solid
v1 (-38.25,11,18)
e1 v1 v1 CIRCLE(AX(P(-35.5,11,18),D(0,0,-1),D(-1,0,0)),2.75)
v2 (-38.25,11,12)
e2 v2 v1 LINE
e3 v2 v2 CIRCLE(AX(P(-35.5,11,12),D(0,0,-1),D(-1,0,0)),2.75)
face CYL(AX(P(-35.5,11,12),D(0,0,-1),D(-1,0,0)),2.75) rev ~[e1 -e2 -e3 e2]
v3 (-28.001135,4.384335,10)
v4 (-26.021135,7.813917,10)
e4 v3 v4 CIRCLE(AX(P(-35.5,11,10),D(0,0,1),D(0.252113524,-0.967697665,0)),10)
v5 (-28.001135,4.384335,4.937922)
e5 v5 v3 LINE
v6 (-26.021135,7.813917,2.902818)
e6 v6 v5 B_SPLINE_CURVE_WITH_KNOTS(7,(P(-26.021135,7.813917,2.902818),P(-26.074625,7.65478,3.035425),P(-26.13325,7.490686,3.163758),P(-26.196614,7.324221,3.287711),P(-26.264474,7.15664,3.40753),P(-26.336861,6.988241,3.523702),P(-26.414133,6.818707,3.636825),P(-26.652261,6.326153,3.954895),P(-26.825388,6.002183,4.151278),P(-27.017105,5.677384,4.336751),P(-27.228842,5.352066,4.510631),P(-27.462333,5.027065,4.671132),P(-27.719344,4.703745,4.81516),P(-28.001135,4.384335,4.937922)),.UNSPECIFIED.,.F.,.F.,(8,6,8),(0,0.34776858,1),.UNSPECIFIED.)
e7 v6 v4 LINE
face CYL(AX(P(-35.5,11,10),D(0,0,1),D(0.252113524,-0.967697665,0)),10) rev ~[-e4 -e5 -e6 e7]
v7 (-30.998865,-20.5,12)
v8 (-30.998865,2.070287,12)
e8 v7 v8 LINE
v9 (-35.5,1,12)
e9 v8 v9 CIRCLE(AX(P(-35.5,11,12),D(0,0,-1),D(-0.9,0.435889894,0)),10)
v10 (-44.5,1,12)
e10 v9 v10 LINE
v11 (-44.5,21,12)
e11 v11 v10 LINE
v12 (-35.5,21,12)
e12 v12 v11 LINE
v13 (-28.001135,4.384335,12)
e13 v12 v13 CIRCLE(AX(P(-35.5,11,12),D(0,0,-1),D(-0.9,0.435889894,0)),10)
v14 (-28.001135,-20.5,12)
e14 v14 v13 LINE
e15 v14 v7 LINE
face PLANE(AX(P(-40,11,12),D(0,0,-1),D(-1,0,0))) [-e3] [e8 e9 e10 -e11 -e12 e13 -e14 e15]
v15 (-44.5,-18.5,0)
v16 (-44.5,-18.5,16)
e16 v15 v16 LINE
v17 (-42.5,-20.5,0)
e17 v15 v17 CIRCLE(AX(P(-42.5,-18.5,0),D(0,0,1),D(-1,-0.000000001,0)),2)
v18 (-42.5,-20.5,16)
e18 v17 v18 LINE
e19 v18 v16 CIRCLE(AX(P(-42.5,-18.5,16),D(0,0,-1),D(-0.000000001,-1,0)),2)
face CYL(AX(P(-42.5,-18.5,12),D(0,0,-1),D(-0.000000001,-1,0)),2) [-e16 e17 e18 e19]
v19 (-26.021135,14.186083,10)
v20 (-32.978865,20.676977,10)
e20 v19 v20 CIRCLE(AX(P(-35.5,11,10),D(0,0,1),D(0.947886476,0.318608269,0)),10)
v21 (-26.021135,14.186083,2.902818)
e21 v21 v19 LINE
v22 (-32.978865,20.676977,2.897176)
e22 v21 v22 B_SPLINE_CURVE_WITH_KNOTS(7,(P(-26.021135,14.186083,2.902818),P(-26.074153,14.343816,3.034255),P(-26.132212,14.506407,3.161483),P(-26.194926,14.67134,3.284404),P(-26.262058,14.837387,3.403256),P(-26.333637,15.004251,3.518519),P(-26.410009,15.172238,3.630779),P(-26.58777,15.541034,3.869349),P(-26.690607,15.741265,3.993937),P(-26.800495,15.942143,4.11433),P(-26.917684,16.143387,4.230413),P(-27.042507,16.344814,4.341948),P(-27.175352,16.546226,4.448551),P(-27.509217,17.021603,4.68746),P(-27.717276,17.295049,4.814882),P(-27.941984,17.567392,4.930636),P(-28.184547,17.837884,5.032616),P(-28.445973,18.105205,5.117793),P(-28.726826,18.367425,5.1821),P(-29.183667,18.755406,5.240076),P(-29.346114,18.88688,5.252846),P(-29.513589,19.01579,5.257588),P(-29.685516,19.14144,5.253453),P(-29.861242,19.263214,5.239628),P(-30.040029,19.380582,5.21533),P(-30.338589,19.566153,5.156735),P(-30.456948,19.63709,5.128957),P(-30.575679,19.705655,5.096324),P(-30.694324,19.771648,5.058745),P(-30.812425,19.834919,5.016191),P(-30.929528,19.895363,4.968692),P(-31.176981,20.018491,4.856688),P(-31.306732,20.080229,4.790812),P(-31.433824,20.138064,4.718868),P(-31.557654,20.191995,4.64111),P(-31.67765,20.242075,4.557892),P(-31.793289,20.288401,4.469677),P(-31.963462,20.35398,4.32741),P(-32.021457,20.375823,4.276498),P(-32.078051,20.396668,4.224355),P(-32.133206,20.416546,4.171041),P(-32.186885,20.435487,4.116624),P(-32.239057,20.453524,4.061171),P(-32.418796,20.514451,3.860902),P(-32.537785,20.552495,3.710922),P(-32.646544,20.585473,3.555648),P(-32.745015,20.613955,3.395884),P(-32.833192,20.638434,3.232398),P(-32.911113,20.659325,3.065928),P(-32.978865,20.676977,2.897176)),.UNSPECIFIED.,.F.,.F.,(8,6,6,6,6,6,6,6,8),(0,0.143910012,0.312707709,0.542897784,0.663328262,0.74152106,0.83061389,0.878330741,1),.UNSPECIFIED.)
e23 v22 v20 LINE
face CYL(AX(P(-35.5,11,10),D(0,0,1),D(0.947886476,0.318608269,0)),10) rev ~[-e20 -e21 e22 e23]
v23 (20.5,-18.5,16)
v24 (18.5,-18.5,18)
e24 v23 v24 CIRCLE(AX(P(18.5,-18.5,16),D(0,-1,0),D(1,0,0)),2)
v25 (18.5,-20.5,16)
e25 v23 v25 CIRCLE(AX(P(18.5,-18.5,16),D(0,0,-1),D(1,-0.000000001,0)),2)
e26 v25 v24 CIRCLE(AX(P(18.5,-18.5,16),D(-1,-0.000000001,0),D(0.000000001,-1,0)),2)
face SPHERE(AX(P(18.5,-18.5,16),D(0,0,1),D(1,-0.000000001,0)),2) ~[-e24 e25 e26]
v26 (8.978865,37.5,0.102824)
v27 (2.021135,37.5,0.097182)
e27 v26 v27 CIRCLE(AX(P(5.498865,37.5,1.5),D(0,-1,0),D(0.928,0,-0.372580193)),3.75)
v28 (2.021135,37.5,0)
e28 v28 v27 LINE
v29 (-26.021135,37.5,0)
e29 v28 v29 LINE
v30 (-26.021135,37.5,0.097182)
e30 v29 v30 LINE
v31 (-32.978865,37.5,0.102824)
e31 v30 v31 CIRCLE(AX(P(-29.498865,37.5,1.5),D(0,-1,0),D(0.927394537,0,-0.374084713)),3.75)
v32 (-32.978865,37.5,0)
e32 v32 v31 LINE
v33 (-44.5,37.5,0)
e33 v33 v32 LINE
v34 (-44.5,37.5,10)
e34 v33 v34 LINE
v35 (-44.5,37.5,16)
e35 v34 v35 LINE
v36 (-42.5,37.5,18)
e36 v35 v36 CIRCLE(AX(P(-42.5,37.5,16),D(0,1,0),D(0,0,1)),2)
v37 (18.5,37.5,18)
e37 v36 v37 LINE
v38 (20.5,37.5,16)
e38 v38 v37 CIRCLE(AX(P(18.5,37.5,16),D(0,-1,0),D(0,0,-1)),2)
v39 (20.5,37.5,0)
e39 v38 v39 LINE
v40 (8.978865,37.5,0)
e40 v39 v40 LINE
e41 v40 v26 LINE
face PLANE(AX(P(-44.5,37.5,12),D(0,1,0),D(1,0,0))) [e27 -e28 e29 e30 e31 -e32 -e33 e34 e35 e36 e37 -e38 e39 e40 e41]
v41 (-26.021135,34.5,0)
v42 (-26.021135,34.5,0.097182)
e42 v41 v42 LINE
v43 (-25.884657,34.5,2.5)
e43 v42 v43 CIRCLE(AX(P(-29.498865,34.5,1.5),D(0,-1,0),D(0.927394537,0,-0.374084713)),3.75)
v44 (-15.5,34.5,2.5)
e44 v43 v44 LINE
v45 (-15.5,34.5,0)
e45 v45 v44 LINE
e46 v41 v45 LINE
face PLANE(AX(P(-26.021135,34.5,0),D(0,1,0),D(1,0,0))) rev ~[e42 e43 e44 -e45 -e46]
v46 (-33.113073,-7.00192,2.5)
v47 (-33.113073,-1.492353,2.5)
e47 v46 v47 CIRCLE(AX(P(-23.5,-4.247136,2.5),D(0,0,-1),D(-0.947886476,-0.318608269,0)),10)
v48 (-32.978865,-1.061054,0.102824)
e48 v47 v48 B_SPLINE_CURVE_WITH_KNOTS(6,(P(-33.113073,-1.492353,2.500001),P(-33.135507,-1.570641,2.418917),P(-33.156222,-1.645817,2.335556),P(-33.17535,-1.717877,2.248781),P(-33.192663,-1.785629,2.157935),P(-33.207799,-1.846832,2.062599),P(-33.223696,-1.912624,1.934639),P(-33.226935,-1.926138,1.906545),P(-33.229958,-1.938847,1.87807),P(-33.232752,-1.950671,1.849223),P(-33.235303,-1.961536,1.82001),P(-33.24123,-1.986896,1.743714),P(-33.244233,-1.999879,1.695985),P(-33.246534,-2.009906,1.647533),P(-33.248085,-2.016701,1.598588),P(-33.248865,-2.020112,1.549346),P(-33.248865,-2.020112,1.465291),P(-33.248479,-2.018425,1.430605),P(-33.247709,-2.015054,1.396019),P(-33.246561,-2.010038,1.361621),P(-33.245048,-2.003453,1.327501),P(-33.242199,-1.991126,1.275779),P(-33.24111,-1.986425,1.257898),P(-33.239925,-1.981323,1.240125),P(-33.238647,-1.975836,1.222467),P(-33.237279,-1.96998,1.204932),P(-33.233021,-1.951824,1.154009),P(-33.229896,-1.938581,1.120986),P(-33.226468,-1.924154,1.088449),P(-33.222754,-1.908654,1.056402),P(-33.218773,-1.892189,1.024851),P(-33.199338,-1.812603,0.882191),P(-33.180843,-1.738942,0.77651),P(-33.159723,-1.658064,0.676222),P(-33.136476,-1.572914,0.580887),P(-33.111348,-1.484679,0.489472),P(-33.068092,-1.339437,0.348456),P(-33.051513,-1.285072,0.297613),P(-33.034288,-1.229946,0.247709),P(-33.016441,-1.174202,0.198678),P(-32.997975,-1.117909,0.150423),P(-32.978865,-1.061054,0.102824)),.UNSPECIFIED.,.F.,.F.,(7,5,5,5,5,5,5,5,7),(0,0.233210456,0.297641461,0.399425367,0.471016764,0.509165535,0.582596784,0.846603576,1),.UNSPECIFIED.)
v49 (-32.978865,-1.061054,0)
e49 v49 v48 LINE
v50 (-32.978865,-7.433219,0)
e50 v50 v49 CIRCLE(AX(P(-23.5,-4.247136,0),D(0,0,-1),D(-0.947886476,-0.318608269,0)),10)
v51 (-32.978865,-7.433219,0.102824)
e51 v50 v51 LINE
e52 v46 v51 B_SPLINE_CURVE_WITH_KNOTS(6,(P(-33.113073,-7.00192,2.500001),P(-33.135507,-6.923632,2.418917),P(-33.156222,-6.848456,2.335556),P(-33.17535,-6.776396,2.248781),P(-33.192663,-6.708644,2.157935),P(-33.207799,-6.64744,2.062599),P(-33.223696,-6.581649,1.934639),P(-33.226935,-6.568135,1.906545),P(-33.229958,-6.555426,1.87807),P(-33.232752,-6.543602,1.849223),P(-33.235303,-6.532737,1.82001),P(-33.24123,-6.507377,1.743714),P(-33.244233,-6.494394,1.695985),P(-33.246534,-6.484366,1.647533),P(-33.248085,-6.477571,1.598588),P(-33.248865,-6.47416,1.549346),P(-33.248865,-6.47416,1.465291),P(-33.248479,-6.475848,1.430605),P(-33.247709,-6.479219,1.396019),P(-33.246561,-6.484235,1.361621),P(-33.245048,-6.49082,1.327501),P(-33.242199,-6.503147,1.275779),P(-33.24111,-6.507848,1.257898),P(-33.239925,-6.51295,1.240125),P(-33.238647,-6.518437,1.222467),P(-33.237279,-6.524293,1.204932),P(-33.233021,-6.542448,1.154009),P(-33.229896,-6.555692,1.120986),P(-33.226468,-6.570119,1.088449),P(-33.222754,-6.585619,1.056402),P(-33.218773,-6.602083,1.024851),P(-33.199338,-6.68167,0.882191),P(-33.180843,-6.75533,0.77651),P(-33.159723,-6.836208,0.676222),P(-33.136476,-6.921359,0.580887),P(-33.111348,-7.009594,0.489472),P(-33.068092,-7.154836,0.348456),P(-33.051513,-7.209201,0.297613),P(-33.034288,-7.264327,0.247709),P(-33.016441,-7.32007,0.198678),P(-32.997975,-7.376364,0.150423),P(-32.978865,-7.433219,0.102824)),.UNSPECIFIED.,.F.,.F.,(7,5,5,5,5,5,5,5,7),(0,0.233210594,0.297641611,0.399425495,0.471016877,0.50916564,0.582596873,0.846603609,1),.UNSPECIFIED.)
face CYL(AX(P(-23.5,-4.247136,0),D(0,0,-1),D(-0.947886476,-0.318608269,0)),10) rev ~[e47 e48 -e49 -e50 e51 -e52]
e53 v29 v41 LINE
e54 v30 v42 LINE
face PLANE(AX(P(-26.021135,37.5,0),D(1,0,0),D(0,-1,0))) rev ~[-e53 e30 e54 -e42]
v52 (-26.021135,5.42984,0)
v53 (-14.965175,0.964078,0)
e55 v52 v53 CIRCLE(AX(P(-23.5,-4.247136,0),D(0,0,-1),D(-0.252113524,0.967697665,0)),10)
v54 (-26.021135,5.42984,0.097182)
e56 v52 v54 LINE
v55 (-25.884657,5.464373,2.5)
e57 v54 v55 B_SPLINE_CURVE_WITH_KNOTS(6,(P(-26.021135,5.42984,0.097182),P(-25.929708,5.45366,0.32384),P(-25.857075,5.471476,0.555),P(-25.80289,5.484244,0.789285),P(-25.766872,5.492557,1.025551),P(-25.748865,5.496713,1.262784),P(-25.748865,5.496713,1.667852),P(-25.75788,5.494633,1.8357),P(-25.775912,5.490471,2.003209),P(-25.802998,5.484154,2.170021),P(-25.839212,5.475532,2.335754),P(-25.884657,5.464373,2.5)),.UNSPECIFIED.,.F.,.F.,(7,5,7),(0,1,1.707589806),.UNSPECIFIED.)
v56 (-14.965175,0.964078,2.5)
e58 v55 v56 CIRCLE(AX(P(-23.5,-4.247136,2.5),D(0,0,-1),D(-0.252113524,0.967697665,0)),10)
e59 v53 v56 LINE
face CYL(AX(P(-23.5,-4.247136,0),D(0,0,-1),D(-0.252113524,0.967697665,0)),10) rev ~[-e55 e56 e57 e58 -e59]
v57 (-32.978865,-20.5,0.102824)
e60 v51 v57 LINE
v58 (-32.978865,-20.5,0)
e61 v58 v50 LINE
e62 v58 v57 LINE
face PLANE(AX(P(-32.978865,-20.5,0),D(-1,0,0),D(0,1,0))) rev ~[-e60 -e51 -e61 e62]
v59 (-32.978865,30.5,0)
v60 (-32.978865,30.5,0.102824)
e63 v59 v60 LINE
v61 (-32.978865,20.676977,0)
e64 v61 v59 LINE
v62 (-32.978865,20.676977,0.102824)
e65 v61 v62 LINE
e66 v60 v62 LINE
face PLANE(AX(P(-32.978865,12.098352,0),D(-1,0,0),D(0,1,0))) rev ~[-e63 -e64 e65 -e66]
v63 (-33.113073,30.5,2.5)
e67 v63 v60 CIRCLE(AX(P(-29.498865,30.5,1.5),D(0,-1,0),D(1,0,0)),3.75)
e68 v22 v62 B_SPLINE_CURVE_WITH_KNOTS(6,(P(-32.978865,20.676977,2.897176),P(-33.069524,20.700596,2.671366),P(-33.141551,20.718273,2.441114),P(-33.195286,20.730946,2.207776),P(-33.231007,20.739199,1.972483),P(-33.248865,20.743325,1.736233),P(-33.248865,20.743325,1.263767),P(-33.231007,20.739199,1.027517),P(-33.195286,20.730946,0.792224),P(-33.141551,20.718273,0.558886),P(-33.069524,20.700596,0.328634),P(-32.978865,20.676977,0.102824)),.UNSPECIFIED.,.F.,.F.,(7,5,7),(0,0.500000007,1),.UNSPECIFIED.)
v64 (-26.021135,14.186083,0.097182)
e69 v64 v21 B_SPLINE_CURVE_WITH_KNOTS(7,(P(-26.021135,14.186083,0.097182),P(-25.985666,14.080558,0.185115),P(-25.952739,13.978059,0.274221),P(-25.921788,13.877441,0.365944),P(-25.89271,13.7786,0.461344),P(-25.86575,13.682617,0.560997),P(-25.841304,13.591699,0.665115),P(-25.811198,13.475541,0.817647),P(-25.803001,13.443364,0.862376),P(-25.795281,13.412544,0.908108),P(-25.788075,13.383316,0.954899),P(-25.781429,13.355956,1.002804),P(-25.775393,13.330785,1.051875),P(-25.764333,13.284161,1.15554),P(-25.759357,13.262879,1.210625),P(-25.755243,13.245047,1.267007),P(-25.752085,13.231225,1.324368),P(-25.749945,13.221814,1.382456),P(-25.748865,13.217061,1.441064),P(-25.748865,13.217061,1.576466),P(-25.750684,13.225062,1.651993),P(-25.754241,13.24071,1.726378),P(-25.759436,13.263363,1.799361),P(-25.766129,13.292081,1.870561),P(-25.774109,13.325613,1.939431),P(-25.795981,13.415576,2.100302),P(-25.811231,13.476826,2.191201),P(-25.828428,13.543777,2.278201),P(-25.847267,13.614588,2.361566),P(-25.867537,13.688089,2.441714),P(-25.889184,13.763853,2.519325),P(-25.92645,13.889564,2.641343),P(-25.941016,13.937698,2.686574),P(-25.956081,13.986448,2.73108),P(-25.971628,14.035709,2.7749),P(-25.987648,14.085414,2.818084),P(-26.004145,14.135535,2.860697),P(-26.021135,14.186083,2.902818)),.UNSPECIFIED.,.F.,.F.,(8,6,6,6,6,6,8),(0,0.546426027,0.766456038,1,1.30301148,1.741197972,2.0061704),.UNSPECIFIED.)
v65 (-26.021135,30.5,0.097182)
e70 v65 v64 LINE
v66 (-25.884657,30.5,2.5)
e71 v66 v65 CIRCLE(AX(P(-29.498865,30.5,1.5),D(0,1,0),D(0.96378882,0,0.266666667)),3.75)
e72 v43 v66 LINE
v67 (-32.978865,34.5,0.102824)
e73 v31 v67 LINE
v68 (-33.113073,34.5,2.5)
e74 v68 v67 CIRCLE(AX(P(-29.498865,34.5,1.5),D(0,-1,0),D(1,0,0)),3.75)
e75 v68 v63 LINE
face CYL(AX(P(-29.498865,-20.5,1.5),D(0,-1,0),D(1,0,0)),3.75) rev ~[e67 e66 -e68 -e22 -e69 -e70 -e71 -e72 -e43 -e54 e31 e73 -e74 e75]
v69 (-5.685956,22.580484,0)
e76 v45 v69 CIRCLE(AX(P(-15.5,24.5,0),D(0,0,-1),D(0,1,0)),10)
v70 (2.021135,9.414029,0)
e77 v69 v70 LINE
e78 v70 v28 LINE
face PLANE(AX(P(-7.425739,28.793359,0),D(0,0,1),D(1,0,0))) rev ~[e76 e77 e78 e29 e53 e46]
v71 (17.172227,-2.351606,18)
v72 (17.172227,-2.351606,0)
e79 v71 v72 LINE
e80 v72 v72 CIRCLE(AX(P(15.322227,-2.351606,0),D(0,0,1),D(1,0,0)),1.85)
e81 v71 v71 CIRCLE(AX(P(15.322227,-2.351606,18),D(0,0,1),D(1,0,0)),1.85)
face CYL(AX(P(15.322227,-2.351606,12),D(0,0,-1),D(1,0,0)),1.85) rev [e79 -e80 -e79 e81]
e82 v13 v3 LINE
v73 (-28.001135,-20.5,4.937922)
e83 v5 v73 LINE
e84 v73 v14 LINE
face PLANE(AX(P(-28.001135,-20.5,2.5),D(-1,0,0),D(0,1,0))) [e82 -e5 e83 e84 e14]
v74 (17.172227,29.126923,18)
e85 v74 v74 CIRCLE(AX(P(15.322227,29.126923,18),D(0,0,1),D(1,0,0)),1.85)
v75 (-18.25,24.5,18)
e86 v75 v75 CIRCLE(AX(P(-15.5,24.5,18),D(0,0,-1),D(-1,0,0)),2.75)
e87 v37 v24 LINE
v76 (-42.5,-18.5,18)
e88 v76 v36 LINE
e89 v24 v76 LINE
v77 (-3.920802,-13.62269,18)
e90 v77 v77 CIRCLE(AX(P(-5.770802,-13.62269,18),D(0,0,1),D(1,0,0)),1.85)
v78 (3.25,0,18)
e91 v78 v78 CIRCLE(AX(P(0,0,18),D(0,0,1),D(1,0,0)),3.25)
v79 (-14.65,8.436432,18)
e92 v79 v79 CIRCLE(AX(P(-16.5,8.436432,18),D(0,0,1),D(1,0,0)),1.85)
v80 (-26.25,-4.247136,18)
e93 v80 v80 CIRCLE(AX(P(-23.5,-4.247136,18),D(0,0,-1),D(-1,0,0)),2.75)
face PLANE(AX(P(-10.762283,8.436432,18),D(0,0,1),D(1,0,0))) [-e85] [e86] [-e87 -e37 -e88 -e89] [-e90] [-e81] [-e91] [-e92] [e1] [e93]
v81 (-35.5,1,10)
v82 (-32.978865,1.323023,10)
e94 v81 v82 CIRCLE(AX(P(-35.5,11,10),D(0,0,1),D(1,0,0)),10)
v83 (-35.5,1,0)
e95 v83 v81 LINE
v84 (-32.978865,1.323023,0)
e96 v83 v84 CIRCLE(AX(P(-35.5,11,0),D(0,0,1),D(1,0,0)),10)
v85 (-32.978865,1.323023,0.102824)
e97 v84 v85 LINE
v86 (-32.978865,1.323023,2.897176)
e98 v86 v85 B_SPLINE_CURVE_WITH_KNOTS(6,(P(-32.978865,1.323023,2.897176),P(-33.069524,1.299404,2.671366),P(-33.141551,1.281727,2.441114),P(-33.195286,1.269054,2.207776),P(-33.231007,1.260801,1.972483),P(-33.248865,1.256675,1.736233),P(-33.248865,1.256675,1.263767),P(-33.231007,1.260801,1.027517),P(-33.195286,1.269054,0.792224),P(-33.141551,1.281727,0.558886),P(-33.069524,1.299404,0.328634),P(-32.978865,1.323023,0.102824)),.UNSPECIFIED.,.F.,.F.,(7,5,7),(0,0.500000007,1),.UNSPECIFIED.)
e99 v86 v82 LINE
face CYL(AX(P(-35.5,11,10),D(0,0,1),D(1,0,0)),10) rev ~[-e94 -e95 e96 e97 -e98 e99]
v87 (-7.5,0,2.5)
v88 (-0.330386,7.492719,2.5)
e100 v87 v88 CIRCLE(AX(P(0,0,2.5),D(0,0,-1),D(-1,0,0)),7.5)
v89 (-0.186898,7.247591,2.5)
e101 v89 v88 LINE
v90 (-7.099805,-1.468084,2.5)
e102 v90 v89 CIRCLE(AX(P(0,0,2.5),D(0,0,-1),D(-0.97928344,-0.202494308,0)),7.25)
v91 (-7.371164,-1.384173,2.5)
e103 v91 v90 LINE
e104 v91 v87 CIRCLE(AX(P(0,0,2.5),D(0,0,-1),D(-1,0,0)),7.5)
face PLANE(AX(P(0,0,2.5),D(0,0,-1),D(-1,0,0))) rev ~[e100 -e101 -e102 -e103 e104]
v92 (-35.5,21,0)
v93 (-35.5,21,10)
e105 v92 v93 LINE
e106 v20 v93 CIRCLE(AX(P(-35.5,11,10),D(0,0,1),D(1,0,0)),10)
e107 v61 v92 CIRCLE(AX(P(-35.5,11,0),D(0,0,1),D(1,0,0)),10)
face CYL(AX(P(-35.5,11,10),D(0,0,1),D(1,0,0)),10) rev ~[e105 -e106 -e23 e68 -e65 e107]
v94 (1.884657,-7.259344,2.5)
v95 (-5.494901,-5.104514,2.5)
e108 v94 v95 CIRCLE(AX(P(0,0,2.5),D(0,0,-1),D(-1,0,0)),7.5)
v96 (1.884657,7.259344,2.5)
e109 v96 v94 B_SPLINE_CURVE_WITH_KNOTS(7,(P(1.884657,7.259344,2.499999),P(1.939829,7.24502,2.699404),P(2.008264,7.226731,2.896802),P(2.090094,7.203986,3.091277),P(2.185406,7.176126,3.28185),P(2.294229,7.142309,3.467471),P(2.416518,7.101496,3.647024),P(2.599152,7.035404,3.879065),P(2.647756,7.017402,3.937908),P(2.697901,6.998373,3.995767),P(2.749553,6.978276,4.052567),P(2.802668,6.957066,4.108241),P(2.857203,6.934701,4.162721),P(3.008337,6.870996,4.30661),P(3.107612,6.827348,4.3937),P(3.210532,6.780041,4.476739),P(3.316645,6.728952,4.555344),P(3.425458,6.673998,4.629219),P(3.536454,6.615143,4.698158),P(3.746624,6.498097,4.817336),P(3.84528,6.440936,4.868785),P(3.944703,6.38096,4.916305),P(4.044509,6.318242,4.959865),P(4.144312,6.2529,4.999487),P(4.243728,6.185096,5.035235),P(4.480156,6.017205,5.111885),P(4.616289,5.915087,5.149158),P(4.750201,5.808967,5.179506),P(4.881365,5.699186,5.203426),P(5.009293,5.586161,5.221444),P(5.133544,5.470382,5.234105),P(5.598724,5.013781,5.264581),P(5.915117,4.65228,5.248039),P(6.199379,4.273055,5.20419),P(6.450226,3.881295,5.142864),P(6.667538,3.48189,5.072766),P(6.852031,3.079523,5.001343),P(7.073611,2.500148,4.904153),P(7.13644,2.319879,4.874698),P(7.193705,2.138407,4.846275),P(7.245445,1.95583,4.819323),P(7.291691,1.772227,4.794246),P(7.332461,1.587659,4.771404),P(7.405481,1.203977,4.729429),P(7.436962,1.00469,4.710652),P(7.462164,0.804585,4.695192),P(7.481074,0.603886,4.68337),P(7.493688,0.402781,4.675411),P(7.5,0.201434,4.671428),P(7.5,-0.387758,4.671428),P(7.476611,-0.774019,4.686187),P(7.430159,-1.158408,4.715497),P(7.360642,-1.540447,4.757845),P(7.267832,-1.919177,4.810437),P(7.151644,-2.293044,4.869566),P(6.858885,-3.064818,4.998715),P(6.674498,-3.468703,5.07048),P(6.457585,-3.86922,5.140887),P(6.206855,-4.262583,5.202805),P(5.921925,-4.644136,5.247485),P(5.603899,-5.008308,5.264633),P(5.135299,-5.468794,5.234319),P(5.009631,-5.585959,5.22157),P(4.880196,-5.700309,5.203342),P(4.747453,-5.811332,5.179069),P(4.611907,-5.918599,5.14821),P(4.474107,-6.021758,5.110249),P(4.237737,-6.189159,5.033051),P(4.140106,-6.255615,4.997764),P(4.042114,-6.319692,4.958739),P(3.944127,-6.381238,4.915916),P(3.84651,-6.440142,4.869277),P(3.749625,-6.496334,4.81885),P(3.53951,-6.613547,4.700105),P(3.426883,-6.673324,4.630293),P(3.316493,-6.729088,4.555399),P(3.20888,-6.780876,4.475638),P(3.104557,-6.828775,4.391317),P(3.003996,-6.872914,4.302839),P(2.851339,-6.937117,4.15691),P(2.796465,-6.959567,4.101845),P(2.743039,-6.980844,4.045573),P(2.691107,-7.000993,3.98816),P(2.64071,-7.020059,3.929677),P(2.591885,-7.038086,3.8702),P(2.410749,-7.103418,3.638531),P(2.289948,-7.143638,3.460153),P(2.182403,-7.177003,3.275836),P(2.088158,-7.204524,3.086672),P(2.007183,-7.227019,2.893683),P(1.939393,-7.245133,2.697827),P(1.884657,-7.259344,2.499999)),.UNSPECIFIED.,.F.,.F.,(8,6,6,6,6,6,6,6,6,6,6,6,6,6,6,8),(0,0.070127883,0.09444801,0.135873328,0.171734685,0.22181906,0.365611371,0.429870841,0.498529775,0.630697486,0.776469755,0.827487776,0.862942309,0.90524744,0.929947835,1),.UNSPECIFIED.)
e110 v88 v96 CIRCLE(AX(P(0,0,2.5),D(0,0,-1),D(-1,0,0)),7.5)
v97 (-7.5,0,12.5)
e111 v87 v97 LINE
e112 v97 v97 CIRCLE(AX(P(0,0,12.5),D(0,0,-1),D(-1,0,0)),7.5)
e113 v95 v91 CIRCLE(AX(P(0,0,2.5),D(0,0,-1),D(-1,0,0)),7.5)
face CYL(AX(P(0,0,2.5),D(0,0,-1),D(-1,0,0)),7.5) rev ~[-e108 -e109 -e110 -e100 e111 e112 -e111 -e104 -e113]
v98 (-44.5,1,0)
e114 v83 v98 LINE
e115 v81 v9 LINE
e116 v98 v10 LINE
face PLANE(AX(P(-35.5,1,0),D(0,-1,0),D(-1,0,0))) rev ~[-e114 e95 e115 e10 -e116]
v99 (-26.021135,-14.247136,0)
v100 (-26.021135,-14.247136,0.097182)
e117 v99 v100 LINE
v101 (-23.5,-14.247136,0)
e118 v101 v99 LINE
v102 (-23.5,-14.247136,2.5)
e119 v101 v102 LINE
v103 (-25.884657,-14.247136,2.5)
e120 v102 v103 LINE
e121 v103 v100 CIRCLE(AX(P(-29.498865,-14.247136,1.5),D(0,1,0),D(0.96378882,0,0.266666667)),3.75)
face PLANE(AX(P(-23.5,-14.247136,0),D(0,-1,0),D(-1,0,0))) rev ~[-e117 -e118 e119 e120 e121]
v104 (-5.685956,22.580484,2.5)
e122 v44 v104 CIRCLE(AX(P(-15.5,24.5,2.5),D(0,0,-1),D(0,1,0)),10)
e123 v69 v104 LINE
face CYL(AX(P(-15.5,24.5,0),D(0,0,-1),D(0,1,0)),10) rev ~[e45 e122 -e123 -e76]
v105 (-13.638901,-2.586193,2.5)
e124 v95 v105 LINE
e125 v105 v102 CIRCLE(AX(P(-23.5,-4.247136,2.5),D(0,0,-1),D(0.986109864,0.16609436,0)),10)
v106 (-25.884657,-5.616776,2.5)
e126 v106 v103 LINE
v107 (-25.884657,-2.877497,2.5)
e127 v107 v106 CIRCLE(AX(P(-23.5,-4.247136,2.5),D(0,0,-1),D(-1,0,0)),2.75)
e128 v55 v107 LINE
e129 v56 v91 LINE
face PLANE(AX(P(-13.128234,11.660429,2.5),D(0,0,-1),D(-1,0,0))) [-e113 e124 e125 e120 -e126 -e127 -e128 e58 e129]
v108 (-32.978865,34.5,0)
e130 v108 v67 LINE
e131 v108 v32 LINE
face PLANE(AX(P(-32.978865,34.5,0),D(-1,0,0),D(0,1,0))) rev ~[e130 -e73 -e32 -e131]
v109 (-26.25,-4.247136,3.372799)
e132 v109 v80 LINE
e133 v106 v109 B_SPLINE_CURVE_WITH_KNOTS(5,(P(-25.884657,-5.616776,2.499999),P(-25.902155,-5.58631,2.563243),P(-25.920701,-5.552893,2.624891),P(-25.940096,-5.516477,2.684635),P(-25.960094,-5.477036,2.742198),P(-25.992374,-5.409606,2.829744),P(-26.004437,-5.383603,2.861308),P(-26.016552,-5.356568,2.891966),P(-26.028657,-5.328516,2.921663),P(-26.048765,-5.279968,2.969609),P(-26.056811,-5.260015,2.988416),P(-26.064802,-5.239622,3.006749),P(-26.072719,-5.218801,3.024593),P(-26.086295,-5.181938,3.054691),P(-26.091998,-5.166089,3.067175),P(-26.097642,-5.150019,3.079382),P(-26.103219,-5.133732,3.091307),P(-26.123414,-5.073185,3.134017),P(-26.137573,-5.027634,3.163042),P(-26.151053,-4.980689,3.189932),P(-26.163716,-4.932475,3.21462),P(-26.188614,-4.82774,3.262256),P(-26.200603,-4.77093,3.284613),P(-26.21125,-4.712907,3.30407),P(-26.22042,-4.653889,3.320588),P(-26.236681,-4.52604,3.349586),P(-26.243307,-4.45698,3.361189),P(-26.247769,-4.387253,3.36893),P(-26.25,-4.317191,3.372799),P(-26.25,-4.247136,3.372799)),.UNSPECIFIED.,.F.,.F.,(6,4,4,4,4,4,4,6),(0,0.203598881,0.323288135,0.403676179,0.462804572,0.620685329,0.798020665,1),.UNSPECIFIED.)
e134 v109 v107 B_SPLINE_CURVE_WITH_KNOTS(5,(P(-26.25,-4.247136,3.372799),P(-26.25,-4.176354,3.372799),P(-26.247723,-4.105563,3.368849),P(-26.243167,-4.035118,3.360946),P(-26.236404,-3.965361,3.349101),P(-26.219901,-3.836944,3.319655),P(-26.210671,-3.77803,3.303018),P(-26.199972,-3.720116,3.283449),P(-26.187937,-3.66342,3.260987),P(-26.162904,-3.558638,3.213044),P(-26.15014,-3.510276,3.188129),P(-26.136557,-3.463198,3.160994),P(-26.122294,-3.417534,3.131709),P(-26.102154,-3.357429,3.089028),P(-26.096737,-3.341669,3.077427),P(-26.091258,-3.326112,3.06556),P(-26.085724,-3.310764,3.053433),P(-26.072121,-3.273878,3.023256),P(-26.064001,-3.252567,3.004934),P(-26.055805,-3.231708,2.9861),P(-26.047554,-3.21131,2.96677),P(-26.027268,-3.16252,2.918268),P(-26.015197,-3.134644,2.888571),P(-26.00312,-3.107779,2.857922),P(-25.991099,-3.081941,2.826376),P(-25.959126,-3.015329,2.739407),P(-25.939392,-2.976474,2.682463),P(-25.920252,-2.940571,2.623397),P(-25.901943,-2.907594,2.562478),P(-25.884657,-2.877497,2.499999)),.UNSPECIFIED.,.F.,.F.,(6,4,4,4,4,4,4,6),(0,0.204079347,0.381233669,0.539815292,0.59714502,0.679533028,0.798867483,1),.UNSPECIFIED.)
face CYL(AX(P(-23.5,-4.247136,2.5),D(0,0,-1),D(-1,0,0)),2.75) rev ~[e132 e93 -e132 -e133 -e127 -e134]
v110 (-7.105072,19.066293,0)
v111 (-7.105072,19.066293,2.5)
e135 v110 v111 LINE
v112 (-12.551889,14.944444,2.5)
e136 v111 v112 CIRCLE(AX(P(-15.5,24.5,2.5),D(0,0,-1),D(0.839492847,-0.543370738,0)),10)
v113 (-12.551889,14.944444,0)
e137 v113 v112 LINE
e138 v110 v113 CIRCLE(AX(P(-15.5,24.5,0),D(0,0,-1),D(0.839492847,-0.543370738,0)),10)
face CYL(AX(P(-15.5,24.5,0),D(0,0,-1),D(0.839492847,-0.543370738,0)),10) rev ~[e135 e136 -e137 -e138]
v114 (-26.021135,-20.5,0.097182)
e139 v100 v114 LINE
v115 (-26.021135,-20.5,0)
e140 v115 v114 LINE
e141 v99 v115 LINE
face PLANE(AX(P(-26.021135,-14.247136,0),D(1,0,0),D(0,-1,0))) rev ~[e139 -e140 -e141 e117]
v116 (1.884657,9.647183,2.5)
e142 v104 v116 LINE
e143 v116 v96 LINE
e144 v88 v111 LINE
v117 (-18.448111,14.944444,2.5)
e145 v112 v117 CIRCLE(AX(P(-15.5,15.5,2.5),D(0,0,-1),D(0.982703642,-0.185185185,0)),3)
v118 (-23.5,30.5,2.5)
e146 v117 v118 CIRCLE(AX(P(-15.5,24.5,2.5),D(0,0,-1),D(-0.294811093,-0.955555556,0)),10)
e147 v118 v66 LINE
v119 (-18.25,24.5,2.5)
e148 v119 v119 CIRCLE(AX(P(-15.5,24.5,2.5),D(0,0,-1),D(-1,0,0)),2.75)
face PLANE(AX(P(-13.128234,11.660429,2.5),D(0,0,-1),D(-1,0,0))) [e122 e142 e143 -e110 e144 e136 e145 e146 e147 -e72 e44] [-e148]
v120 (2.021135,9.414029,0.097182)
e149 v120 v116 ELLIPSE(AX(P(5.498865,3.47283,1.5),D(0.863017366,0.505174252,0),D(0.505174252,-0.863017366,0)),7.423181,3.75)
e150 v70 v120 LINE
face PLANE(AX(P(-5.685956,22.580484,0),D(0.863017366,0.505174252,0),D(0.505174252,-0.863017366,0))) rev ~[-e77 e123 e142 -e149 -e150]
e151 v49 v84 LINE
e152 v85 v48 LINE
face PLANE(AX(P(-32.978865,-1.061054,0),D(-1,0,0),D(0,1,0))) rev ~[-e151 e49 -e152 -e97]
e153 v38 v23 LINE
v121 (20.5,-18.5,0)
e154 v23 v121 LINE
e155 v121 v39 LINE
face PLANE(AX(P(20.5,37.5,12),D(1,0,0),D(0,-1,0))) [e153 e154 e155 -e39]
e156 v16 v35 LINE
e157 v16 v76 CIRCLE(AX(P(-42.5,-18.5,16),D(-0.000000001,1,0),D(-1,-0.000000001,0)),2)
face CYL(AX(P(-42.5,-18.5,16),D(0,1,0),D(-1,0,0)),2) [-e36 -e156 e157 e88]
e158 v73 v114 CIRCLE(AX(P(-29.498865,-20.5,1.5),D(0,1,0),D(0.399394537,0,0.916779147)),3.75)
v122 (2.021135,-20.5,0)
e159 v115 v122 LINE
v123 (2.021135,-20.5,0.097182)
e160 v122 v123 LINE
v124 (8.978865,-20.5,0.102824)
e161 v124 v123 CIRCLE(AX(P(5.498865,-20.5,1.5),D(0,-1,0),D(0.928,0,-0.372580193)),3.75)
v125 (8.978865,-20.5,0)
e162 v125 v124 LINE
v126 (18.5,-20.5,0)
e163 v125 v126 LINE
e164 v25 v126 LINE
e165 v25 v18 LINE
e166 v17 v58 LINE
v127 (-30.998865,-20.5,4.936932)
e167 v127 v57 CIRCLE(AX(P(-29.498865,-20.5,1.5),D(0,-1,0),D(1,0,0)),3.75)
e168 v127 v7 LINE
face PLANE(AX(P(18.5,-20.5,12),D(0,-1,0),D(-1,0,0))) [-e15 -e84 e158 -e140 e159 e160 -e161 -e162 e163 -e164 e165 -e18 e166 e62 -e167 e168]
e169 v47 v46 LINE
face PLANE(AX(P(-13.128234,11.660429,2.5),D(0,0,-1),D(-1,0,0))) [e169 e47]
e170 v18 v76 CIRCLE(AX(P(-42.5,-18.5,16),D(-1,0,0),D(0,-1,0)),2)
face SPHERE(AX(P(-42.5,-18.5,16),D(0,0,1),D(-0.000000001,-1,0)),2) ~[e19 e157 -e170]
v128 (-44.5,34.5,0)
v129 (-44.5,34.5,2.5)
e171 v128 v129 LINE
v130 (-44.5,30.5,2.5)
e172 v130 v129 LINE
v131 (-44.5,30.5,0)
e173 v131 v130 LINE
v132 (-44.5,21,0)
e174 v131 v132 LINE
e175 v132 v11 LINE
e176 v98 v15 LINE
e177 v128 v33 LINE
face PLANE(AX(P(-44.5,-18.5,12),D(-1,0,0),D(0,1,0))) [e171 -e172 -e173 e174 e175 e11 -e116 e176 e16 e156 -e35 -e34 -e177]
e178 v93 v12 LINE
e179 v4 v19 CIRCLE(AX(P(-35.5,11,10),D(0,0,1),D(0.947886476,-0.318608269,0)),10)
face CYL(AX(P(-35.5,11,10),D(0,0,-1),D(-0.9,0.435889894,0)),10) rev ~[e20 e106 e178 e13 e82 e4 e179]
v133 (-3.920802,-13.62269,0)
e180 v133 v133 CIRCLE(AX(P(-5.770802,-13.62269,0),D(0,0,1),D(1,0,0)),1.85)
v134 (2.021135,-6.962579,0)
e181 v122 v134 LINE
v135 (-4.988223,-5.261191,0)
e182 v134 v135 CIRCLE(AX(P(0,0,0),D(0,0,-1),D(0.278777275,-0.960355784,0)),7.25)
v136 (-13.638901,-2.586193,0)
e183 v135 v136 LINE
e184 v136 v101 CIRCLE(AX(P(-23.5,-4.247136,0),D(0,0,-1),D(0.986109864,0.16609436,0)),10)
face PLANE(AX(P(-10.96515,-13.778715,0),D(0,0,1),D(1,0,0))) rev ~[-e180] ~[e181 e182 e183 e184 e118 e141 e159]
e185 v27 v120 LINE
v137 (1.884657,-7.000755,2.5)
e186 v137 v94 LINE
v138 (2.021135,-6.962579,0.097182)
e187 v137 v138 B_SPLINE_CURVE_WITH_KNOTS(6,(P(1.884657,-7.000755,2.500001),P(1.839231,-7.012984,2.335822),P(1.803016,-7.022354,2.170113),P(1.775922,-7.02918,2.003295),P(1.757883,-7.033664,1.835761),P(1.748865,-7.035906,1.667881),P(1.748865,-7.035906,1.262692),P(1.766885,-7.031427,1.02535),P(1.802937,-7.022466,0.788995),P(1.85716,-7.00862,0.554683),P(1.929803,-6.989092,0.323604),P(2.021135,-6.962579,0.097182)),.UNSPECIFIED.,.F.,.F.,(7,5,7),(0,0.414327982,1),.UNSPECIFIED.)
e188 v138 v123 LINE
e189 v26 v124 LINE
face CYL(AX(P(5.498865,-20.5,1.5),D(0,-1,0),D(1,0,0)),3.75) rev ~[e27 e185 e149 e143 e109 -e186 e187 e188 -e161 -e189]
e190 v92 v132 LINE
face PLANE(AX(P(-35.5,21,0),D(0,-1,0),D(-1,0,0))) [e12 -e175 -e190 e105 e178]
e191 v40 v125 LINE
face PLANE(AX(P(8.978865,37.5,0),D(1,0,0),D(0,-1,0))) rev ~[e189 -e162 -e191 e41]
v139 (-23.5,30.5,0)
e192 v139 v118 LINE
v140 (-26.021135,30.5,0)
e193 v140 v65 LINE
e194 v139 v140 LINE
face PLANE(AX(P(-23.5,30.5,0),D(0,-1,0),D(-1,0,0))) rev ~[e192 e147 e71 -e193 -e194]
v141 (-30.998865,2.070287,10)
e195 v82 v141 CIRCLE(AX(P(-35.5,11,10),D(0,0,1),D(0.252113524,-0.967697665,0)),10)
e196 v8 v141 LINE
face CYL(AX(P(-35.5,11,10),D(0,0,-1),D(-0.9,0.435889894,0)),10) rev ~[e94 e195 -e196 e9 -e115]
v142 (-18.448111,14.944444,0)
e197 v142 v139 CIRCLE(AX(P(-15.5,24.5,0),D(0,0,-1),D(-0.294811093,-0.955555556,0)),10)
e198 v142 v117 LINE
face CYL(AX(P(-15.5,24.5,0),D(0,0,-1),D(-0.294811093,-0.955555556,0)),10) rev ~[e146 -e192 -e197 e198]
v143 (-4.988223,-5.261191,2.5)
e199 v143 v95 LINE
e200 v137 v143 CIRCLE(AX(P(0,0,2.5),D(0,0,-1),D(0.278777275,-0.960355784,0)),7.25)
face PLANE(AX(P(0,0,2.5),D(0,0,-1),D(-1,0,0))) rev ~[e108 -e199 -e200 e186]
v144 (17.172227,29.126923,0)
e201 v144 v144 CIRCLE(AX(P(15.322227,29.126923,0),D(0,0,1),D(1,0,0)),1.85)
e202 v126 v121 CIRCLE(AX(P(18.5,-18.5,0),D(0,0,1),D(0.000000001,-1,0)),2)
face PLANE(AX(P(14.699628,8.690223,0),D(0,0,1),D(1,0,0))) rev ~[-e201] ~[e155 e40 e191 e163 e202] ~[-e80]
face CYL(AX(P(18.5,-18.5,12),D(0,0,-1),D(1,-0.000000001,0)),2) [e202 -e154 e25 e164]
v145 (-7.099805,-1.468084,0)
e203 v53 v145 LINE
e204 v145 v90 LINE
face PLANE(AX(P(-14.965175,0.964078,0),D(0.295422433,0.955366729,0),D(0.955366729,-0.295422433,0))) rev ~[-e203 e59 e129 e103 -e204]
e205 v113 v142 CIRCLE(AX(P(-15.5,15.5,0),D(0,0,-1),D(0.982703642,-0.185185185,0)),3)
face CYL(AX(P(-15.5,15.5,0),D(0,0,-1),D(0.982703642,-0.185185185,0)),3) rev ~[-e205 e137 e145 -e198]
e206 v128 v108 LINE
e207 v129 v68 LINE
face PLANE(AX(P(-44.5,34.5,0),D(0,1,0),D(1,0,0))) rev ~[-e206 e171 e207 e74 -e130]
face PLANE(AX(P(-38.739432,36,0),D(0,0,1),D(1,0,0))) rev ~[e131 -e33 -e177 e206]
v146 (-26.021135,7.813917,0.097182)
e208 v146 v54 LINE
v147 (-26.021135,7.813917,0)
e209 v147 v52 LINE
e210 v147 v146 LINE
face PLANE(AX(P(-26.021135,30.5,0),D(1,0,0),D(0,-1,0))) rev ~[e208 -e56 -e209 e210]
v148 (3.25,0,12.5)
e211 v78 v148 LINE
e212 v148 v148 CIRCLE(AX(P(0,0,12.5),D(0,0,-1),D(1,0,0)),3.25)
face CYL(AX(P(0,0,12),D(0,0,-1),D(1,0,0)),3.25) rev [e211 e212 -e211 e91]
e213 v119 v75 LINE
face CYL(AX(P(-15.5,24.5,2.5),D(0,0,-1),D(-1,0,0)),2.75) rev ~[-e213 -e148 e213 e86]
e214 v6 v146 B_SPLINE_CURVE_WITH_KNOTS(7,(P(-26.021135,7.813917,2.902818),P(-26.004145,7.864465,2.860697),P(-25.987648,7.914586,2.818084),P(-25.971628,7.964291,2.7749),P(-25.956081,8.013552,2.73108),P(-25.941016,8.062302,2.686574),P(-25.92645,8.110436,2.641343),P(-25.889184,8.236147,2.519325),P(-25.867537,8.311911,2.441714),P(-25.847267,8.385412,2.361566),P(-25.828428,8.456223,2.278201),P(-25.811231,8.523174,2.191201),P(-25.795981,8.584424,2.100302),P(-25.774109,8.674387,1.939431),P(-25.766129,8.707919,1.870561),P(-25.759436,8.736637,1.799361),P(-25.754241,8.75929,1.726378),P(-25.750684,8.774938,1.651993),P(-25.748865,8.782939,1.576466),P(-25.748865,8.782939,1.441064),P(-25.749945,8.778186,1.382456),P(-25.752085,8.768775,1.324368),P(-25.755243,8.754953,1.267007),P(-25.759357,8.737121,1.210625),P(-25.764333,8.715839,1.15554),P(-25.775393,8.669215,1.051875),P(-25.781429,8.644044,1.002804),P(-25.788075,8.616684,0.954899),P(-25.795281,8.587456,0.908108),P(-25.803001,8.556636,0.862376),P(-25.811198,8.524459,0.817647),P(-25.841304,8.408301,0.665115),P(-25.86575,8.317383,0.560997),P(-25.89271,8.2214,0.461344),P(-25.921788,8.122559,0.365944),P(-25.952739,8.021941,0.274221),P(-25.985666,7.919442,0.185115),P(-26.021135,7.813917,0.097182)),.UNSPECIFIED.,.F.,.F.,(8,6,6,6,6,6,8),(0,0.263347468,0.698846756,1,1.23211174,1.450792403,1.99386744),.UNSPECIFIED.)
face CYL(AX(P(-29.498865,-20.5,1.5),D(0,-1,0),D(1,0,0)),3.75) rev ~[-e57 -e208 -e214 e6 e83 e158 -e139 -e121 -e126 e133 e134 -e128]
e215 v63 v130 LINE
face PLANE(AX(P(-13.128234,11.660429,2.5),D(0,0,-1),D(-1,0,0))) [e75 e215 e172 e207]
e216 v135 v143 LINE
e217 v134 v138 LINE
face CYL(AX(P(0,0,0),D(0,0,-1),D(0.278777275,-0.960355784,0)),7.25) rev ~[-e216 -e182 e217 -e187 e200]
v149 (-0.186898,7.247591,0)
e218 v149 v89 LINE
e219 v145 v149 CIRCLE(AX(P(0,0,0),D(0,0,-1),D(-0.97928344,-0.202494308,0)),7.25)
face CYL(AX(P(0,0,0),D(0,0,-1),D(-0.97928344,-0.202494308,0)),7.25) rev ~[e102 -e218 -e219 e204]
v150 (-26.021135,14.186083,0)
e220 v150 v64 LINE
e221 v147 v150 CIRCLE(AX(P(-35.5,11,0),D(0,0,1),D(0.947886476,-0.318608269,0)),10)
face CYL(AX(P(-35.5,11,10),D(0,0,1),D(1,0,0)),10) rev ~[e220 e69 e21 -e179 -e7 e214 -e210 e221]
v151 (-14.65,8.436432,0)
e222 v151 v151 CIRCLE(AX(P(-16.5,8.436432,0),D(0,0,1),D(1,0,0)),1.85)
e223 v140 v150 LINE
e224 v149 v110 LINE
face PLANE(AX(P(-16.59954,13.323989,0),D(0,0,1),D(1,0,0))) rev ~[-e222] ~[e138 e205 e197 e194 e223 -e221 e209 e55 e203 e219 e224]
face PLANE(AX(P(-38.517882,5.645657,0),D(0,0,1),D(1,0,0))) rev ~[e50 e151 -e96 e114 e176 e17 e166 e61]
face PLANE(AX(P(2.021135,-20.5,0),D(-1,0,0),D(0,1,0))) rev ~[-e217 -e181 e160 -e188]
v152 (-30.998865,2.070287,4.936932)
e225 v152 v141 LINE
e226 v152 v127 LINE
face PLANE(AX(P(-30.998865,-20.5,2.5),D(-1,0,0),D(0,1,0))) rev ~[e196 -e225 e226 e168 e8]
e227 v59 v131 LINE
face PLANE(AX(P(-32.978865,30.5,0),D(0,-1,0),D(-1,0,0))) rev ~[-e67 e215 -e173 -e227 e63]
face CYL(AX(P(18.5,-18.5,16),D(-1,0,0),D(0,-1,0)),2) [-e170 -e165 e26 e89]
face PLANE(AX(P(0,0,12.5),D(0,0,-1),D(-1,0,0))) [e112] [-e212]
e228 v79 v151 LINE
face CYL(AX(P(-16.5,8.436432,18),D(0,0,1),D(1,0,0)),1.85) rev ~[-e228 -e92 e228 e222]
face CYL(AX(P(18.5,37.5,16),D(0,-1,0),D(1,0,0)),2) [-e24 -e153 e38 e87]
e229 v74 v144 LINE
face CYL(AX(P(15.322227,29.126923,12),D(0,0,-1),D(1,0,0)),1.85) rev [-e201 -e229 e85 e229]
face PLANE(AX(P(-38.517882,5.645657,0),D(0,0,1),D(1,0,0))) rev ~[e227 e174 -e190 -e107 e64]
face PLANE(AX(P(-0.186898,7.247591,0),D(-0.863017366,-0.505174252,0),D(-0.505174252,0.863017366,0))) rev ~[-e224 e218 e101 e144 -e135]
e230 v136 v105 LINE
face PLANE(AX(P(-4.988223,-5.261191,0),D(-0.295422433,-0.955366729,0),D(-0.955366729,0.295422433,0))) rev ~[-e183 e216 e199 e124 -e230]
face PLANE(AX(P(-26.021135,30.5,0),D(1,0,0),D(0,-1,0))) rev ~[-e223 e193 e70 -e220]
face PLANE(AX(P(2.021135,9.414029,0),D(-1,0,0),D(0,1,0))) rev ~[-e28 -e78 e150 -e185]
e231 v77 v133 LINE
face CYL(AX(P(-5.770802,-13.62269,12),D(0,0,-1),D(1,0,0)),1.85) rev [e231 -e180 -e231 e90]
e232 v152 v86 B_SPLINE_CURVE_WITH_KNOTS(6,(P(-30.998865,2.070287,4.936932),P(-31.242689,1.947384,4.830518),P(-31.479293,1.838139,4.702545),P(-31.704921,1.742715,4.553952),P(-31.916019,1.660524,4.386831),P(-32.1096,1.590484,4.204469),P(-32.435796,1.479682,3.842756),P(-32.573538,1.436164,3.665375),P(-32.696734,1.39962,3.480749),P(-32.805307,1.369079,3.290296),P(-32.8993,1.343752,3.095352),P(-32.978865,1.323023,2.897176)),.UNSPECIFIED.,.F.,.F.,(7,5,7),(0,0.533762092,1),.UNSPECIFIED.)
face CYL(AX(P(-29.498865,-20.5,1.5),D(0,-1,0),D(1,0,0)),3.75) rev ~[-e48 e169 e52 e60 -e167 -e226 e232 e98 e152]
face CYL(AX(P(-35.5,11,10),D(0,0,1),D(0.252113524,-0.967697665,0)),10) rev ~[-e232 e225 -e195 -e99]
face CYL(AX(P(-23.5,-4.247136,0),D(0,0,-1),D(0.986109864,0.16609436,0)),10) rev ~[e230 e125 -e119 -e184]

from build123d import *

# Parameters (mm, degrees)
SKETCH1_W             = 11.521135243
SKETCH1_H             = 3
BOSS_EXTRUDE1_DEPTH   = 10
SKETCH1_R             = 1.85
BOSS_EXTRUDE1_2_DEPTH = 10
BOSS_EXTRUDE1_3_DEPTH = 10
BOSS_EXTRUDE1_4_DEPTH = 10
BOSS_EXTRUDE1_5_DEPTH = 10
BOSS_EXTRUDE1_6_DEPTH = 10
SKETCH2_R             = 10
CUT_EXTRUDE1_DEPTH    = 11
SKETCH3_R             = 3.25
BOSS_EXTRUDE2_DEPTH   = 7.5
SKETCH4_R             = 1.85
SKETCH4_R_2           = 3.25
BOSS_EXTRUDE3_DEPTH   = 2
SKETCH5_R             = 3.25
SKETCH5_R_2           = 1.85
BOSS_EXTRUDE4_DEPTH   = 6
FILLET1_R             = 2
SKETCH6_W             = 9
SKETCH6_H             = 20
CUT_EXTRUDE2_DEPTH    = 12
SKETCH7_W             = 2.997729514
SKETCH7_H             = 29.62259405
CUT_EXTRUDE3_DEPTH    = 9.5
SKETCH8_R             = 2.75
CUT_EXTRUDE4_DEPTH    = 6
SKETCH9_R             = 2.75
CUT_EXTRUDE5_DEPTH    = 16.5
SKETCH10_R            = 1.85
CUT_EXTRUDE6_DEPTH    = 25
SKETCH11_R            = 1.85
BOSS_EXTRUDE5_DEPTH   = 18
SKETCH12_R            = 3.75
CUT_EXTRUDE7_DEPTH    = 59
SKETCH13_R            = 7.5
CUT_EXTRUDE8_DEPTH    = 10


with BuildPart() as part:
    # Sketch1 → Boss-Extrude1 (new body)
    with BuildSketch(Plane.XY):
        with Locations((-38.739432378, 36)):
            Rectangle(SKETCH1_W, SKETCH1_H)
    extrude(amount=BOSS_EXTRUDE1_DEPTH)



with BuildPart() as body_2:
    # Sketch1 → Boss-Extrude1 2 (new body)
    with BuildSketch(Plane.XY):
        with BuildLine():
            Line((-26.021135243, 30.5), (-26.021135243, 5.429840229))
            ThreePointArc((-26.021135243, 5.429840229), (-19.754753142, 5.025033011), (-14.965174817, 0.964078321))
            Line((-14.965174817, 0.964078321), (-7.099804938, -1.468083732))
            ThreePointArc((-7.099804938, -1.468083732), (-5.680207241, 4.505301955), (-0.18689792, 7.247590577))
            Line((-0.18689792, 7.247590577), (-7.105071526, 19.066292618))
            ThreePointArc((-7.105071526, 19.066292618), (-9.465636422, 16.525888375), (-12.551889075, 14.944444444))
            ThreePointArc((-12.551889075, 14.944444444), (-15.5, 12.5), (-18.448110925, 14.944444444))
            ThreePointArc((-18.448110925, 14.944444444), (-25.010999441, 21.411166946), (-23.5, 30.5))
            Line((-23.5, 30.5), (-26.021135243, 30.5))
        make_face()
        with Locations((-10.762282528, 8.436432064)):
            Circle(SKETCH1_R, mode=Mode.SUBTRACT)
    extrude(amount=BOSS_EXTRUDE1_2_DEPTH)


with BuildPart() as body_3:
    # Sketch1 → Boss-Extrude1 3 (new body)
    with BuildSketch(Plane.XY):
        with BuildLine():
            Line((-26.021135243, 37.5), (-26.021135243, 34.5))
            Line((-26.021135243, 34.5), (-15.5, 34.5))
            ThreePointArc((-15.5, 34.5), (-7.78005297, 30.856289629), (-5.685956151, 22.58048357))
            Line((-5.685956151, 22.58048357), (2.021135243, 9.414029247))
            Line((2.021135243, 9.414029247), (2.021135243, 37.5))
            Line((2.021135243, 37.5), (-26.021135243, 37.5))
        make_face()
    extrude(amount=BOSS_EXTRUDE1_3_DEPTH)


with BuildPart() as body_4:
    # Sketch1 → Boss-Extrude1 4 (new body)
    with BuildSketch(Plane.XY):
        with BuildLine():
            Line((8.978864757, 37.5), (8.978864757, -20.5))
            Line((8.978864757, -20.5), (18.5, -20.5))
            ThreePointArc((18.5, -20.5), (19.914213562, -19.914213562), (20.5, -18.5))
            Line((20.5, -18.5), (20.5, 37.5))
            Line((20.5, 37.5), (8.978864757, 37.5))
        make_face()
        with Locations((15.322226869, 29.126922543)):
            Circle(SKETCH1_R, mode=Mode.SUBTRACT)
        with Locations((15.322226869, -2.351605773)):
            Circle(SKETCH1_R, mode=Mode.SUBTRACT)
    extrude(amount=BOSS_EXTRUDE1_4_DEPTH)


with BuildPart() as body_5:
    # Sketch1 → Boss-Extrude1 5 (new body)
    with BuildSketch(Plane.XY):
        with BuildLine():
            Line((-26.021135243, -14.247136421), (-26.021135243, -20.5))
            Line((-26.021135243, -20.5), (2.021135243, -20.5))
            Line((2.021135243, -20.5), (2.021135243, -6.962579431))
            ThreePointArc((2.021135243, -6.962579431), (-1.710141081, -7.045418191), (-4.98822277, -5.261191271))
            Line((-4.98822277, -5.261191271), (-13.638901361, -2.586192825))
            ThreePointArc((-13.638901361, -2.586192825), (-15.864247386, -10.70432482), (-23.5, -14.247136421))
            Line((-23.5, -14.247136421), (-26.021135243, -14.247136421))
        make_face()
        with Locations((-5.770802335, -13.622690081)):
            Circle(SKETCH1_R, mode=Mode.SUBTRACT)
    extrude(amount=BOSS_EXTRUDE1_5_DEPTH)


with BuildPart() as body_6:
    # Sketch1 → Boss-Extrude1 6 (new body)
    with BuildSketch(Plane.XY):
        with BuildLine():
            Line((-32.978864757, 12.098351987), (-32.978864757, 30.5))
            Line((-32.978864757, 30.5), (-44.5, 30.5))
            Line((-44.5, 30.5), (-44.5, -18.5))
            ThreePointArc((-44.5, -18.5), (-43.914213562, -19.914213562), (-42.5, -20.5))
            Line((-42.5, -20.5), (-32.978864757, -20.5))
            Line((-32.978864757, -20.5), (-32.978864757, -7.433219111))
            ThreePointArc((-32.978864757, -7.433219111), (-33.5, -4.247136421), (-32.978864757, -1.06105373))
            Line((-32.978864757, -1.06105373), (-32.978864757, 9.901648013))
            ThreePointArc((-32.978864757, 9.901648013), (-38.25, 11), (-32.978864757, 12.098351987))
        make_face()
    extrude(amount=BOSS_EXTRUDE1_6_DEPTH)


with BuildPart() as cut_extrude1_tool:
    # Sketch2 → Cut-Extrude1 (new body, through all)
    with BuildSketch(Plane.XY.offset(10)):
        with Locations((-35.5, 11)):
            Circle(SKETCH2_R)
    extrude(amount=-CUT_EXTRUDE1_DEPTH)


with BuildPart() as body_2_1:
    add(body_2.part)

    # Cut-Extrude1: cut by cut_extrude1_tool
    add(cut_extrude1_tool.part, mode=Mode.SUBTRACT)


with BuildPart() as body_6_1:
    add(body_6.part)

    # Cut-Extrude1: cut by cut_extrude1_tool
    add(cut_extrude1_tool.part, mode=Mode.SUBTRACT)


with BuildPart() as part_1:
    add(part.part)

    add(body_2_1.part)  # Boss-Extrude2 merges body 2

    add(body_3.part)  # Boss-Extrude2 merges body 3

    add(body_4.part)  # Boss-Extrude2 merges body 4

    add(body_5.part)  # Boss-Extrude2 merges body 5

    add(body_6_1.part)  # Boss-Extrude2 merges body 6
    # Sketch3 → Boss-Extrude2 (add)
    with BuildSketch(Plane.XY.offset(10)):
        with BuildLine():
            Line((-32.978864757, 20.67697665), (-32.978864757, 30.5))
            Line((-32.978864757, 30.5), (-44.5, 30.5))
            Line((-44.5, 30.5), (-44.5, 34.5))
            Line((-44.5, 34.5), (-32.978864757, 34.5))
            Line((-32.978864757, 34.5), (-32.978864757, 37.5))
            Line((-32.978864757, 37.5), (-26.021135243, 37.5))
            Line((-26.021135243, 37.5), (-26.021135243, 34.5))
            Line((-26.021135243, 34.5), (-15.5, 34.5))
            ThreePointArc((-15.5, 34.5), (-7.78005297, 30.856289629), (-5.685956151, 22.58048357))
            Line((-5.685956151, 22.58048357), (2.021135243, 9.414029247))
            Line((2.021135243, 9.414029247), (2.021135243, 37.5))
            Line((2.021135243, 37.5), (8.978864757, 37.5))
            Line((8.978864757, 37.5), (8.978864757, -20.5))
            Line((8.978864757, -20.5), (2.021135243, -20.5))
            Line((2.021135243, -20.5), (2.021135243, -6.962579431))
            ThreePointArc((2.021135243, -6.962579431), (-1.710141081, -7.045418191), (-4.98822277, -5.261191271))
            Line((-4.98822277, -5.261191271), (-13.638901361, -2.586192825))
            ThreePointArc((-13.638901361, -2.586192825), (-15.864247386, -10.70432482), (-23.5, -14.247136421))
            Line((-23.5, -14.247136421), (-26.021135243, -14.247136421))
            Line((-26.021135243, -14.247136421), (-26.021135243, -20.5))
            Line((-26.021135243, -20.5), (-32.978864757, -20.5))
            Line((-32.978864757, -20.5), (-32.978864757, -7.433219111))
            ThreePointArc((-32.978864757, -7.433219111), (-33.5, -4.247136421), (-32.978864757, -1.06105373))
            Line((-32.978864757, -1.06105373), (-32.978864757, 1.32302335))
            ThreePointArc((-32.978864757, 1.32302335), (-28.67849532, 3.687881709), (-26.021135243, 7.813917309))
            Line((-26.021135243, 7.813917309), (-26.021135243, 5.429840229))
            ThreePointArc((-26.021135243, 5.429840229), (-19.754753142, 5.025033011), (-14.965174817, 0.964078321))
            Line((-14.965174817, 0.964078321), (-7.099804938, -1.468083732))
            ThreePointArc((-7.099804938, -1.468083732), (-5.680207241, 4.505301955), (-0.18689792, 7.247590577))
            Line((-0.18689792, 7.247590577), (-7.105071526, 19.066292618))
            ThreePointArc((-7.105071526, 19.066292618), (-9.465636422, 16.525888375), (-12.551889075, 14.944444444))
            ThreePointArc((-12.551889075, 14.944444444), (-15.5, 12.5), (-18.448110925, 14.944444444))
            ThreePointArc((-18.448110925, 14.944444444), (-25.010999441, 21.411166946), (-23.5, 30.5))
            Line((-23.5, 30.5), (-26.021135243, 30.5))
            Line((-26.021135243, 30.5), (-26.021135243, 14.186082691))
            ThreePointArc((-26.021135243, 14.186082691), (-28.67849532, 18.312118291), (-32.978864757, 20.67697665))
        make_face()
        Circle(SKETCH3_R, mode=Mode.SUBTRACT)
    extrude(amount=-BOSS_EXTRUDE2_DEPTH)

    # Sketch4 → Boss-Extrude3 (add)
    with BuildSketch(Plane.XY.offset(10)):
        with BuildLine():
            Line((-44.5, 6.641101056), (-44.5, -18.5))
            ThreePointArc((-44.5, -18.5), (-43.914213562, -19.914213562), (-42.5, -20.5))
            Line((-42.5, -20.5), (18.5, -20.5))
            ThreePointArc((18.5, -20.5), (19.914213562, -19.914213562), (20.5, -18.5))
            Line((20.5, -18.5), (20.5, 37.5))
            Line((20.5, 37.5), (-44.5, 37.5))
            Line((-44.5, 37.5), (-44.5, 15.358898944))
            ThreePointArc((-44.5, 15.358898944), (-25.5, 11), (-44.5, 6.641101056))
        make_face()
        with Locations((-10.762282528, 8.436432064)):
            Circle(SKETCH4_R, mode=Mode.SUBTRACT)
        Circle(SKETCH4_R_2, mode=Mode.SUBTRACT)
        with Locations((-5.770802335, -13.622690081)):
            Circle(SKETCH4_R, mode=Mode.SUBTRACT)
        with Locations((15.322226869, -2.351605773)):
            Circle(SKETCH4_R, mode=Mode.SUBTRACT)
        with Locations((15.322226869, 29.126922543)):
            Circle(SKETCH4_R, mode=Mode.SUBTRACT)
    extrude(amount=BOSS_EXTRUDE3_DEPTH)

    # Sketch5 → Boss-Extrude4 (add)
    with BuildSketch(Plane.XY.offset(12)):
        with BuildLine():
            Line((-44.5, 37.5), (20.5, 37.5))
            Line((20.5, 37.5), (20.5, -18.5))
            ThreePointArc((20.5, -18.5), (19.914213562, -19.914213562), (18.5, -20.5))
            Line((18.5, -20.5), (-42.5, -20.5))
            ThreePointArc((-42.5, -20.5), (-43.914213562, -19.914213562), (-44.5, -18.5))
            Line((-44.5, -18.5), (-44.5, 37.5))
        make_face()
        Circle(SKETCH5_R, mode=Mode.SUBTRACT)
        with Locations((-10.762282528, 8.436432064)):
            Circle(SKETCH5_R_2, mode=Mode.SUBTRACT)
        with Locations((15.322226869, 29.126922543)):
            Circle(SKETCH5_R_2, mode=Mode.SUBTRACT)
        with Locations((15.322226869, -2.351605773)):
            Circle(SKETCH5_R_2, mode=Mode.SUBTRACT)
        with Locations((-5.770802335, -13.622690081)):
            Circle(SKETCH5_R_2, mode=Mode.SUBTRACT)
    extrude(amount=BOSS_EXTRUDE4_DEPTH)

    # Fillet1
    fillet1_edges = [part_1.edges().sort_by_distance(p)[0] for p in [
        (-44.5, 9.5, 18),
        (-43.914213562, -19.914213562, 18),
        (-12, -20.5, 18),
        (19.914213562, -19.914213562, 18),
        (20.5, 9.5, 18),
    ]]
    fillet(fillet1_edges, radius=FILLET1_R)

    # Sketch6 → Cut-Extrude2 (cut)
    with BuildSketch(Plane(origin=(0, 0, 0), x_dir=(-1, 0, 0), z_dir=(0, 0, -1))):
        with Locations((40, 11)):
            Rectangle(SKETCH6_W, SKETCH6_H)
    extrude(amount=-CUT_EXTRUDE2_DEPTH, mode=Mode.SUBTRACT)

    # Sketch7 → Cut-Extrude3 (cut)
    with BuildSketch(Plane(origin=(0, 0, 2.5), x_dir=(-1, 0, 0), z_dir=(0, 0, -1))):
        with Locations((29.5, -5.688702975)):
            Rectangle(SKETCH7_W, SKETCH7_H)
    extrude(amount=-CUT_EXTRUDE3_DEPTH, mode=Mode.SUBTRACT)

    # Sketch8 → Cut-Extrude4 (cut)
    with BuildSketch(Plane(origin=(0, 0, 12), x_dir=(-1, 0, 0), z_dir=(0, 0, -1))):
        with Locations((35.5, 11)):
            Circle(SKETCH8_R)
    extrude(amount=-CUT_EXTRUDE4_DEPTH, mode=Mode.SUBTRACT)

    # Sketch9 → Cut-Extrude5 (cut, through all)
    with BuildSketch(Plane(origin=(0, 0, 2.5), x_dir=(-1, 0, 0), z_dir=(0, 0, -1))):
        with Locations((15.5, 24.5)):
            Circle(SKETCH9_R)
        with Locations((23.5, -4.247136421)):
            Circle(SKETCH9_R)
    extrude(amount=-CUT_EXTRUDE5_DEPTH, mode=Mode.SUBTRACT)

    # Sketch10 → Cut-Extrude6 (cut)
    with BuildSketch(Plane.XY.offset(18)):
        with Locations((-16.5, 8.436432064)):
            Circle(SKETCH10_R)
    extrude(amount=-CUT_EXTRUDE6_DEPTH, mode=Mode.SUBTRACT)

    # Sketch11 → Boss-Extrude5 (add, through all)
    with BuildSketch(Plane.XY.offset(18)):
        with Locations((-10.762282528, 8.436432064)):
            Circle(SKETCH11_R)
    extrude(amount=-BOSS_EXTRUDE5_DEPTH)

    # Sketch12 → Cut-Extrude7 (cut, through all)
    with BuildSketch(Plane.XZ.offset(20.5)):
        with Locations((-29.498864757, 1.5)):
            Circle(SKETCH12_R)
        with Locations((5.498864757, 1.5)):
            Circle(SKETCH12_R)
    extrude(amount=-CUT_EXTRUDE7_DEPTH, mode=Mode.SUBTRACT)

    # Sketch13 → Cut-Extrude8 (cut)
    with BuildSketch(Plane(origin=(0, 0, 2.5), x_dir=(-1, 0, 0), z_dir=(0, 0, -1))):
        Circle(SKETCH13_R)
    extrude(amount=-CUT_EXTRUDE8_DEPTH, mode=Mode.SUBTRACT)


solid = part_1.part
